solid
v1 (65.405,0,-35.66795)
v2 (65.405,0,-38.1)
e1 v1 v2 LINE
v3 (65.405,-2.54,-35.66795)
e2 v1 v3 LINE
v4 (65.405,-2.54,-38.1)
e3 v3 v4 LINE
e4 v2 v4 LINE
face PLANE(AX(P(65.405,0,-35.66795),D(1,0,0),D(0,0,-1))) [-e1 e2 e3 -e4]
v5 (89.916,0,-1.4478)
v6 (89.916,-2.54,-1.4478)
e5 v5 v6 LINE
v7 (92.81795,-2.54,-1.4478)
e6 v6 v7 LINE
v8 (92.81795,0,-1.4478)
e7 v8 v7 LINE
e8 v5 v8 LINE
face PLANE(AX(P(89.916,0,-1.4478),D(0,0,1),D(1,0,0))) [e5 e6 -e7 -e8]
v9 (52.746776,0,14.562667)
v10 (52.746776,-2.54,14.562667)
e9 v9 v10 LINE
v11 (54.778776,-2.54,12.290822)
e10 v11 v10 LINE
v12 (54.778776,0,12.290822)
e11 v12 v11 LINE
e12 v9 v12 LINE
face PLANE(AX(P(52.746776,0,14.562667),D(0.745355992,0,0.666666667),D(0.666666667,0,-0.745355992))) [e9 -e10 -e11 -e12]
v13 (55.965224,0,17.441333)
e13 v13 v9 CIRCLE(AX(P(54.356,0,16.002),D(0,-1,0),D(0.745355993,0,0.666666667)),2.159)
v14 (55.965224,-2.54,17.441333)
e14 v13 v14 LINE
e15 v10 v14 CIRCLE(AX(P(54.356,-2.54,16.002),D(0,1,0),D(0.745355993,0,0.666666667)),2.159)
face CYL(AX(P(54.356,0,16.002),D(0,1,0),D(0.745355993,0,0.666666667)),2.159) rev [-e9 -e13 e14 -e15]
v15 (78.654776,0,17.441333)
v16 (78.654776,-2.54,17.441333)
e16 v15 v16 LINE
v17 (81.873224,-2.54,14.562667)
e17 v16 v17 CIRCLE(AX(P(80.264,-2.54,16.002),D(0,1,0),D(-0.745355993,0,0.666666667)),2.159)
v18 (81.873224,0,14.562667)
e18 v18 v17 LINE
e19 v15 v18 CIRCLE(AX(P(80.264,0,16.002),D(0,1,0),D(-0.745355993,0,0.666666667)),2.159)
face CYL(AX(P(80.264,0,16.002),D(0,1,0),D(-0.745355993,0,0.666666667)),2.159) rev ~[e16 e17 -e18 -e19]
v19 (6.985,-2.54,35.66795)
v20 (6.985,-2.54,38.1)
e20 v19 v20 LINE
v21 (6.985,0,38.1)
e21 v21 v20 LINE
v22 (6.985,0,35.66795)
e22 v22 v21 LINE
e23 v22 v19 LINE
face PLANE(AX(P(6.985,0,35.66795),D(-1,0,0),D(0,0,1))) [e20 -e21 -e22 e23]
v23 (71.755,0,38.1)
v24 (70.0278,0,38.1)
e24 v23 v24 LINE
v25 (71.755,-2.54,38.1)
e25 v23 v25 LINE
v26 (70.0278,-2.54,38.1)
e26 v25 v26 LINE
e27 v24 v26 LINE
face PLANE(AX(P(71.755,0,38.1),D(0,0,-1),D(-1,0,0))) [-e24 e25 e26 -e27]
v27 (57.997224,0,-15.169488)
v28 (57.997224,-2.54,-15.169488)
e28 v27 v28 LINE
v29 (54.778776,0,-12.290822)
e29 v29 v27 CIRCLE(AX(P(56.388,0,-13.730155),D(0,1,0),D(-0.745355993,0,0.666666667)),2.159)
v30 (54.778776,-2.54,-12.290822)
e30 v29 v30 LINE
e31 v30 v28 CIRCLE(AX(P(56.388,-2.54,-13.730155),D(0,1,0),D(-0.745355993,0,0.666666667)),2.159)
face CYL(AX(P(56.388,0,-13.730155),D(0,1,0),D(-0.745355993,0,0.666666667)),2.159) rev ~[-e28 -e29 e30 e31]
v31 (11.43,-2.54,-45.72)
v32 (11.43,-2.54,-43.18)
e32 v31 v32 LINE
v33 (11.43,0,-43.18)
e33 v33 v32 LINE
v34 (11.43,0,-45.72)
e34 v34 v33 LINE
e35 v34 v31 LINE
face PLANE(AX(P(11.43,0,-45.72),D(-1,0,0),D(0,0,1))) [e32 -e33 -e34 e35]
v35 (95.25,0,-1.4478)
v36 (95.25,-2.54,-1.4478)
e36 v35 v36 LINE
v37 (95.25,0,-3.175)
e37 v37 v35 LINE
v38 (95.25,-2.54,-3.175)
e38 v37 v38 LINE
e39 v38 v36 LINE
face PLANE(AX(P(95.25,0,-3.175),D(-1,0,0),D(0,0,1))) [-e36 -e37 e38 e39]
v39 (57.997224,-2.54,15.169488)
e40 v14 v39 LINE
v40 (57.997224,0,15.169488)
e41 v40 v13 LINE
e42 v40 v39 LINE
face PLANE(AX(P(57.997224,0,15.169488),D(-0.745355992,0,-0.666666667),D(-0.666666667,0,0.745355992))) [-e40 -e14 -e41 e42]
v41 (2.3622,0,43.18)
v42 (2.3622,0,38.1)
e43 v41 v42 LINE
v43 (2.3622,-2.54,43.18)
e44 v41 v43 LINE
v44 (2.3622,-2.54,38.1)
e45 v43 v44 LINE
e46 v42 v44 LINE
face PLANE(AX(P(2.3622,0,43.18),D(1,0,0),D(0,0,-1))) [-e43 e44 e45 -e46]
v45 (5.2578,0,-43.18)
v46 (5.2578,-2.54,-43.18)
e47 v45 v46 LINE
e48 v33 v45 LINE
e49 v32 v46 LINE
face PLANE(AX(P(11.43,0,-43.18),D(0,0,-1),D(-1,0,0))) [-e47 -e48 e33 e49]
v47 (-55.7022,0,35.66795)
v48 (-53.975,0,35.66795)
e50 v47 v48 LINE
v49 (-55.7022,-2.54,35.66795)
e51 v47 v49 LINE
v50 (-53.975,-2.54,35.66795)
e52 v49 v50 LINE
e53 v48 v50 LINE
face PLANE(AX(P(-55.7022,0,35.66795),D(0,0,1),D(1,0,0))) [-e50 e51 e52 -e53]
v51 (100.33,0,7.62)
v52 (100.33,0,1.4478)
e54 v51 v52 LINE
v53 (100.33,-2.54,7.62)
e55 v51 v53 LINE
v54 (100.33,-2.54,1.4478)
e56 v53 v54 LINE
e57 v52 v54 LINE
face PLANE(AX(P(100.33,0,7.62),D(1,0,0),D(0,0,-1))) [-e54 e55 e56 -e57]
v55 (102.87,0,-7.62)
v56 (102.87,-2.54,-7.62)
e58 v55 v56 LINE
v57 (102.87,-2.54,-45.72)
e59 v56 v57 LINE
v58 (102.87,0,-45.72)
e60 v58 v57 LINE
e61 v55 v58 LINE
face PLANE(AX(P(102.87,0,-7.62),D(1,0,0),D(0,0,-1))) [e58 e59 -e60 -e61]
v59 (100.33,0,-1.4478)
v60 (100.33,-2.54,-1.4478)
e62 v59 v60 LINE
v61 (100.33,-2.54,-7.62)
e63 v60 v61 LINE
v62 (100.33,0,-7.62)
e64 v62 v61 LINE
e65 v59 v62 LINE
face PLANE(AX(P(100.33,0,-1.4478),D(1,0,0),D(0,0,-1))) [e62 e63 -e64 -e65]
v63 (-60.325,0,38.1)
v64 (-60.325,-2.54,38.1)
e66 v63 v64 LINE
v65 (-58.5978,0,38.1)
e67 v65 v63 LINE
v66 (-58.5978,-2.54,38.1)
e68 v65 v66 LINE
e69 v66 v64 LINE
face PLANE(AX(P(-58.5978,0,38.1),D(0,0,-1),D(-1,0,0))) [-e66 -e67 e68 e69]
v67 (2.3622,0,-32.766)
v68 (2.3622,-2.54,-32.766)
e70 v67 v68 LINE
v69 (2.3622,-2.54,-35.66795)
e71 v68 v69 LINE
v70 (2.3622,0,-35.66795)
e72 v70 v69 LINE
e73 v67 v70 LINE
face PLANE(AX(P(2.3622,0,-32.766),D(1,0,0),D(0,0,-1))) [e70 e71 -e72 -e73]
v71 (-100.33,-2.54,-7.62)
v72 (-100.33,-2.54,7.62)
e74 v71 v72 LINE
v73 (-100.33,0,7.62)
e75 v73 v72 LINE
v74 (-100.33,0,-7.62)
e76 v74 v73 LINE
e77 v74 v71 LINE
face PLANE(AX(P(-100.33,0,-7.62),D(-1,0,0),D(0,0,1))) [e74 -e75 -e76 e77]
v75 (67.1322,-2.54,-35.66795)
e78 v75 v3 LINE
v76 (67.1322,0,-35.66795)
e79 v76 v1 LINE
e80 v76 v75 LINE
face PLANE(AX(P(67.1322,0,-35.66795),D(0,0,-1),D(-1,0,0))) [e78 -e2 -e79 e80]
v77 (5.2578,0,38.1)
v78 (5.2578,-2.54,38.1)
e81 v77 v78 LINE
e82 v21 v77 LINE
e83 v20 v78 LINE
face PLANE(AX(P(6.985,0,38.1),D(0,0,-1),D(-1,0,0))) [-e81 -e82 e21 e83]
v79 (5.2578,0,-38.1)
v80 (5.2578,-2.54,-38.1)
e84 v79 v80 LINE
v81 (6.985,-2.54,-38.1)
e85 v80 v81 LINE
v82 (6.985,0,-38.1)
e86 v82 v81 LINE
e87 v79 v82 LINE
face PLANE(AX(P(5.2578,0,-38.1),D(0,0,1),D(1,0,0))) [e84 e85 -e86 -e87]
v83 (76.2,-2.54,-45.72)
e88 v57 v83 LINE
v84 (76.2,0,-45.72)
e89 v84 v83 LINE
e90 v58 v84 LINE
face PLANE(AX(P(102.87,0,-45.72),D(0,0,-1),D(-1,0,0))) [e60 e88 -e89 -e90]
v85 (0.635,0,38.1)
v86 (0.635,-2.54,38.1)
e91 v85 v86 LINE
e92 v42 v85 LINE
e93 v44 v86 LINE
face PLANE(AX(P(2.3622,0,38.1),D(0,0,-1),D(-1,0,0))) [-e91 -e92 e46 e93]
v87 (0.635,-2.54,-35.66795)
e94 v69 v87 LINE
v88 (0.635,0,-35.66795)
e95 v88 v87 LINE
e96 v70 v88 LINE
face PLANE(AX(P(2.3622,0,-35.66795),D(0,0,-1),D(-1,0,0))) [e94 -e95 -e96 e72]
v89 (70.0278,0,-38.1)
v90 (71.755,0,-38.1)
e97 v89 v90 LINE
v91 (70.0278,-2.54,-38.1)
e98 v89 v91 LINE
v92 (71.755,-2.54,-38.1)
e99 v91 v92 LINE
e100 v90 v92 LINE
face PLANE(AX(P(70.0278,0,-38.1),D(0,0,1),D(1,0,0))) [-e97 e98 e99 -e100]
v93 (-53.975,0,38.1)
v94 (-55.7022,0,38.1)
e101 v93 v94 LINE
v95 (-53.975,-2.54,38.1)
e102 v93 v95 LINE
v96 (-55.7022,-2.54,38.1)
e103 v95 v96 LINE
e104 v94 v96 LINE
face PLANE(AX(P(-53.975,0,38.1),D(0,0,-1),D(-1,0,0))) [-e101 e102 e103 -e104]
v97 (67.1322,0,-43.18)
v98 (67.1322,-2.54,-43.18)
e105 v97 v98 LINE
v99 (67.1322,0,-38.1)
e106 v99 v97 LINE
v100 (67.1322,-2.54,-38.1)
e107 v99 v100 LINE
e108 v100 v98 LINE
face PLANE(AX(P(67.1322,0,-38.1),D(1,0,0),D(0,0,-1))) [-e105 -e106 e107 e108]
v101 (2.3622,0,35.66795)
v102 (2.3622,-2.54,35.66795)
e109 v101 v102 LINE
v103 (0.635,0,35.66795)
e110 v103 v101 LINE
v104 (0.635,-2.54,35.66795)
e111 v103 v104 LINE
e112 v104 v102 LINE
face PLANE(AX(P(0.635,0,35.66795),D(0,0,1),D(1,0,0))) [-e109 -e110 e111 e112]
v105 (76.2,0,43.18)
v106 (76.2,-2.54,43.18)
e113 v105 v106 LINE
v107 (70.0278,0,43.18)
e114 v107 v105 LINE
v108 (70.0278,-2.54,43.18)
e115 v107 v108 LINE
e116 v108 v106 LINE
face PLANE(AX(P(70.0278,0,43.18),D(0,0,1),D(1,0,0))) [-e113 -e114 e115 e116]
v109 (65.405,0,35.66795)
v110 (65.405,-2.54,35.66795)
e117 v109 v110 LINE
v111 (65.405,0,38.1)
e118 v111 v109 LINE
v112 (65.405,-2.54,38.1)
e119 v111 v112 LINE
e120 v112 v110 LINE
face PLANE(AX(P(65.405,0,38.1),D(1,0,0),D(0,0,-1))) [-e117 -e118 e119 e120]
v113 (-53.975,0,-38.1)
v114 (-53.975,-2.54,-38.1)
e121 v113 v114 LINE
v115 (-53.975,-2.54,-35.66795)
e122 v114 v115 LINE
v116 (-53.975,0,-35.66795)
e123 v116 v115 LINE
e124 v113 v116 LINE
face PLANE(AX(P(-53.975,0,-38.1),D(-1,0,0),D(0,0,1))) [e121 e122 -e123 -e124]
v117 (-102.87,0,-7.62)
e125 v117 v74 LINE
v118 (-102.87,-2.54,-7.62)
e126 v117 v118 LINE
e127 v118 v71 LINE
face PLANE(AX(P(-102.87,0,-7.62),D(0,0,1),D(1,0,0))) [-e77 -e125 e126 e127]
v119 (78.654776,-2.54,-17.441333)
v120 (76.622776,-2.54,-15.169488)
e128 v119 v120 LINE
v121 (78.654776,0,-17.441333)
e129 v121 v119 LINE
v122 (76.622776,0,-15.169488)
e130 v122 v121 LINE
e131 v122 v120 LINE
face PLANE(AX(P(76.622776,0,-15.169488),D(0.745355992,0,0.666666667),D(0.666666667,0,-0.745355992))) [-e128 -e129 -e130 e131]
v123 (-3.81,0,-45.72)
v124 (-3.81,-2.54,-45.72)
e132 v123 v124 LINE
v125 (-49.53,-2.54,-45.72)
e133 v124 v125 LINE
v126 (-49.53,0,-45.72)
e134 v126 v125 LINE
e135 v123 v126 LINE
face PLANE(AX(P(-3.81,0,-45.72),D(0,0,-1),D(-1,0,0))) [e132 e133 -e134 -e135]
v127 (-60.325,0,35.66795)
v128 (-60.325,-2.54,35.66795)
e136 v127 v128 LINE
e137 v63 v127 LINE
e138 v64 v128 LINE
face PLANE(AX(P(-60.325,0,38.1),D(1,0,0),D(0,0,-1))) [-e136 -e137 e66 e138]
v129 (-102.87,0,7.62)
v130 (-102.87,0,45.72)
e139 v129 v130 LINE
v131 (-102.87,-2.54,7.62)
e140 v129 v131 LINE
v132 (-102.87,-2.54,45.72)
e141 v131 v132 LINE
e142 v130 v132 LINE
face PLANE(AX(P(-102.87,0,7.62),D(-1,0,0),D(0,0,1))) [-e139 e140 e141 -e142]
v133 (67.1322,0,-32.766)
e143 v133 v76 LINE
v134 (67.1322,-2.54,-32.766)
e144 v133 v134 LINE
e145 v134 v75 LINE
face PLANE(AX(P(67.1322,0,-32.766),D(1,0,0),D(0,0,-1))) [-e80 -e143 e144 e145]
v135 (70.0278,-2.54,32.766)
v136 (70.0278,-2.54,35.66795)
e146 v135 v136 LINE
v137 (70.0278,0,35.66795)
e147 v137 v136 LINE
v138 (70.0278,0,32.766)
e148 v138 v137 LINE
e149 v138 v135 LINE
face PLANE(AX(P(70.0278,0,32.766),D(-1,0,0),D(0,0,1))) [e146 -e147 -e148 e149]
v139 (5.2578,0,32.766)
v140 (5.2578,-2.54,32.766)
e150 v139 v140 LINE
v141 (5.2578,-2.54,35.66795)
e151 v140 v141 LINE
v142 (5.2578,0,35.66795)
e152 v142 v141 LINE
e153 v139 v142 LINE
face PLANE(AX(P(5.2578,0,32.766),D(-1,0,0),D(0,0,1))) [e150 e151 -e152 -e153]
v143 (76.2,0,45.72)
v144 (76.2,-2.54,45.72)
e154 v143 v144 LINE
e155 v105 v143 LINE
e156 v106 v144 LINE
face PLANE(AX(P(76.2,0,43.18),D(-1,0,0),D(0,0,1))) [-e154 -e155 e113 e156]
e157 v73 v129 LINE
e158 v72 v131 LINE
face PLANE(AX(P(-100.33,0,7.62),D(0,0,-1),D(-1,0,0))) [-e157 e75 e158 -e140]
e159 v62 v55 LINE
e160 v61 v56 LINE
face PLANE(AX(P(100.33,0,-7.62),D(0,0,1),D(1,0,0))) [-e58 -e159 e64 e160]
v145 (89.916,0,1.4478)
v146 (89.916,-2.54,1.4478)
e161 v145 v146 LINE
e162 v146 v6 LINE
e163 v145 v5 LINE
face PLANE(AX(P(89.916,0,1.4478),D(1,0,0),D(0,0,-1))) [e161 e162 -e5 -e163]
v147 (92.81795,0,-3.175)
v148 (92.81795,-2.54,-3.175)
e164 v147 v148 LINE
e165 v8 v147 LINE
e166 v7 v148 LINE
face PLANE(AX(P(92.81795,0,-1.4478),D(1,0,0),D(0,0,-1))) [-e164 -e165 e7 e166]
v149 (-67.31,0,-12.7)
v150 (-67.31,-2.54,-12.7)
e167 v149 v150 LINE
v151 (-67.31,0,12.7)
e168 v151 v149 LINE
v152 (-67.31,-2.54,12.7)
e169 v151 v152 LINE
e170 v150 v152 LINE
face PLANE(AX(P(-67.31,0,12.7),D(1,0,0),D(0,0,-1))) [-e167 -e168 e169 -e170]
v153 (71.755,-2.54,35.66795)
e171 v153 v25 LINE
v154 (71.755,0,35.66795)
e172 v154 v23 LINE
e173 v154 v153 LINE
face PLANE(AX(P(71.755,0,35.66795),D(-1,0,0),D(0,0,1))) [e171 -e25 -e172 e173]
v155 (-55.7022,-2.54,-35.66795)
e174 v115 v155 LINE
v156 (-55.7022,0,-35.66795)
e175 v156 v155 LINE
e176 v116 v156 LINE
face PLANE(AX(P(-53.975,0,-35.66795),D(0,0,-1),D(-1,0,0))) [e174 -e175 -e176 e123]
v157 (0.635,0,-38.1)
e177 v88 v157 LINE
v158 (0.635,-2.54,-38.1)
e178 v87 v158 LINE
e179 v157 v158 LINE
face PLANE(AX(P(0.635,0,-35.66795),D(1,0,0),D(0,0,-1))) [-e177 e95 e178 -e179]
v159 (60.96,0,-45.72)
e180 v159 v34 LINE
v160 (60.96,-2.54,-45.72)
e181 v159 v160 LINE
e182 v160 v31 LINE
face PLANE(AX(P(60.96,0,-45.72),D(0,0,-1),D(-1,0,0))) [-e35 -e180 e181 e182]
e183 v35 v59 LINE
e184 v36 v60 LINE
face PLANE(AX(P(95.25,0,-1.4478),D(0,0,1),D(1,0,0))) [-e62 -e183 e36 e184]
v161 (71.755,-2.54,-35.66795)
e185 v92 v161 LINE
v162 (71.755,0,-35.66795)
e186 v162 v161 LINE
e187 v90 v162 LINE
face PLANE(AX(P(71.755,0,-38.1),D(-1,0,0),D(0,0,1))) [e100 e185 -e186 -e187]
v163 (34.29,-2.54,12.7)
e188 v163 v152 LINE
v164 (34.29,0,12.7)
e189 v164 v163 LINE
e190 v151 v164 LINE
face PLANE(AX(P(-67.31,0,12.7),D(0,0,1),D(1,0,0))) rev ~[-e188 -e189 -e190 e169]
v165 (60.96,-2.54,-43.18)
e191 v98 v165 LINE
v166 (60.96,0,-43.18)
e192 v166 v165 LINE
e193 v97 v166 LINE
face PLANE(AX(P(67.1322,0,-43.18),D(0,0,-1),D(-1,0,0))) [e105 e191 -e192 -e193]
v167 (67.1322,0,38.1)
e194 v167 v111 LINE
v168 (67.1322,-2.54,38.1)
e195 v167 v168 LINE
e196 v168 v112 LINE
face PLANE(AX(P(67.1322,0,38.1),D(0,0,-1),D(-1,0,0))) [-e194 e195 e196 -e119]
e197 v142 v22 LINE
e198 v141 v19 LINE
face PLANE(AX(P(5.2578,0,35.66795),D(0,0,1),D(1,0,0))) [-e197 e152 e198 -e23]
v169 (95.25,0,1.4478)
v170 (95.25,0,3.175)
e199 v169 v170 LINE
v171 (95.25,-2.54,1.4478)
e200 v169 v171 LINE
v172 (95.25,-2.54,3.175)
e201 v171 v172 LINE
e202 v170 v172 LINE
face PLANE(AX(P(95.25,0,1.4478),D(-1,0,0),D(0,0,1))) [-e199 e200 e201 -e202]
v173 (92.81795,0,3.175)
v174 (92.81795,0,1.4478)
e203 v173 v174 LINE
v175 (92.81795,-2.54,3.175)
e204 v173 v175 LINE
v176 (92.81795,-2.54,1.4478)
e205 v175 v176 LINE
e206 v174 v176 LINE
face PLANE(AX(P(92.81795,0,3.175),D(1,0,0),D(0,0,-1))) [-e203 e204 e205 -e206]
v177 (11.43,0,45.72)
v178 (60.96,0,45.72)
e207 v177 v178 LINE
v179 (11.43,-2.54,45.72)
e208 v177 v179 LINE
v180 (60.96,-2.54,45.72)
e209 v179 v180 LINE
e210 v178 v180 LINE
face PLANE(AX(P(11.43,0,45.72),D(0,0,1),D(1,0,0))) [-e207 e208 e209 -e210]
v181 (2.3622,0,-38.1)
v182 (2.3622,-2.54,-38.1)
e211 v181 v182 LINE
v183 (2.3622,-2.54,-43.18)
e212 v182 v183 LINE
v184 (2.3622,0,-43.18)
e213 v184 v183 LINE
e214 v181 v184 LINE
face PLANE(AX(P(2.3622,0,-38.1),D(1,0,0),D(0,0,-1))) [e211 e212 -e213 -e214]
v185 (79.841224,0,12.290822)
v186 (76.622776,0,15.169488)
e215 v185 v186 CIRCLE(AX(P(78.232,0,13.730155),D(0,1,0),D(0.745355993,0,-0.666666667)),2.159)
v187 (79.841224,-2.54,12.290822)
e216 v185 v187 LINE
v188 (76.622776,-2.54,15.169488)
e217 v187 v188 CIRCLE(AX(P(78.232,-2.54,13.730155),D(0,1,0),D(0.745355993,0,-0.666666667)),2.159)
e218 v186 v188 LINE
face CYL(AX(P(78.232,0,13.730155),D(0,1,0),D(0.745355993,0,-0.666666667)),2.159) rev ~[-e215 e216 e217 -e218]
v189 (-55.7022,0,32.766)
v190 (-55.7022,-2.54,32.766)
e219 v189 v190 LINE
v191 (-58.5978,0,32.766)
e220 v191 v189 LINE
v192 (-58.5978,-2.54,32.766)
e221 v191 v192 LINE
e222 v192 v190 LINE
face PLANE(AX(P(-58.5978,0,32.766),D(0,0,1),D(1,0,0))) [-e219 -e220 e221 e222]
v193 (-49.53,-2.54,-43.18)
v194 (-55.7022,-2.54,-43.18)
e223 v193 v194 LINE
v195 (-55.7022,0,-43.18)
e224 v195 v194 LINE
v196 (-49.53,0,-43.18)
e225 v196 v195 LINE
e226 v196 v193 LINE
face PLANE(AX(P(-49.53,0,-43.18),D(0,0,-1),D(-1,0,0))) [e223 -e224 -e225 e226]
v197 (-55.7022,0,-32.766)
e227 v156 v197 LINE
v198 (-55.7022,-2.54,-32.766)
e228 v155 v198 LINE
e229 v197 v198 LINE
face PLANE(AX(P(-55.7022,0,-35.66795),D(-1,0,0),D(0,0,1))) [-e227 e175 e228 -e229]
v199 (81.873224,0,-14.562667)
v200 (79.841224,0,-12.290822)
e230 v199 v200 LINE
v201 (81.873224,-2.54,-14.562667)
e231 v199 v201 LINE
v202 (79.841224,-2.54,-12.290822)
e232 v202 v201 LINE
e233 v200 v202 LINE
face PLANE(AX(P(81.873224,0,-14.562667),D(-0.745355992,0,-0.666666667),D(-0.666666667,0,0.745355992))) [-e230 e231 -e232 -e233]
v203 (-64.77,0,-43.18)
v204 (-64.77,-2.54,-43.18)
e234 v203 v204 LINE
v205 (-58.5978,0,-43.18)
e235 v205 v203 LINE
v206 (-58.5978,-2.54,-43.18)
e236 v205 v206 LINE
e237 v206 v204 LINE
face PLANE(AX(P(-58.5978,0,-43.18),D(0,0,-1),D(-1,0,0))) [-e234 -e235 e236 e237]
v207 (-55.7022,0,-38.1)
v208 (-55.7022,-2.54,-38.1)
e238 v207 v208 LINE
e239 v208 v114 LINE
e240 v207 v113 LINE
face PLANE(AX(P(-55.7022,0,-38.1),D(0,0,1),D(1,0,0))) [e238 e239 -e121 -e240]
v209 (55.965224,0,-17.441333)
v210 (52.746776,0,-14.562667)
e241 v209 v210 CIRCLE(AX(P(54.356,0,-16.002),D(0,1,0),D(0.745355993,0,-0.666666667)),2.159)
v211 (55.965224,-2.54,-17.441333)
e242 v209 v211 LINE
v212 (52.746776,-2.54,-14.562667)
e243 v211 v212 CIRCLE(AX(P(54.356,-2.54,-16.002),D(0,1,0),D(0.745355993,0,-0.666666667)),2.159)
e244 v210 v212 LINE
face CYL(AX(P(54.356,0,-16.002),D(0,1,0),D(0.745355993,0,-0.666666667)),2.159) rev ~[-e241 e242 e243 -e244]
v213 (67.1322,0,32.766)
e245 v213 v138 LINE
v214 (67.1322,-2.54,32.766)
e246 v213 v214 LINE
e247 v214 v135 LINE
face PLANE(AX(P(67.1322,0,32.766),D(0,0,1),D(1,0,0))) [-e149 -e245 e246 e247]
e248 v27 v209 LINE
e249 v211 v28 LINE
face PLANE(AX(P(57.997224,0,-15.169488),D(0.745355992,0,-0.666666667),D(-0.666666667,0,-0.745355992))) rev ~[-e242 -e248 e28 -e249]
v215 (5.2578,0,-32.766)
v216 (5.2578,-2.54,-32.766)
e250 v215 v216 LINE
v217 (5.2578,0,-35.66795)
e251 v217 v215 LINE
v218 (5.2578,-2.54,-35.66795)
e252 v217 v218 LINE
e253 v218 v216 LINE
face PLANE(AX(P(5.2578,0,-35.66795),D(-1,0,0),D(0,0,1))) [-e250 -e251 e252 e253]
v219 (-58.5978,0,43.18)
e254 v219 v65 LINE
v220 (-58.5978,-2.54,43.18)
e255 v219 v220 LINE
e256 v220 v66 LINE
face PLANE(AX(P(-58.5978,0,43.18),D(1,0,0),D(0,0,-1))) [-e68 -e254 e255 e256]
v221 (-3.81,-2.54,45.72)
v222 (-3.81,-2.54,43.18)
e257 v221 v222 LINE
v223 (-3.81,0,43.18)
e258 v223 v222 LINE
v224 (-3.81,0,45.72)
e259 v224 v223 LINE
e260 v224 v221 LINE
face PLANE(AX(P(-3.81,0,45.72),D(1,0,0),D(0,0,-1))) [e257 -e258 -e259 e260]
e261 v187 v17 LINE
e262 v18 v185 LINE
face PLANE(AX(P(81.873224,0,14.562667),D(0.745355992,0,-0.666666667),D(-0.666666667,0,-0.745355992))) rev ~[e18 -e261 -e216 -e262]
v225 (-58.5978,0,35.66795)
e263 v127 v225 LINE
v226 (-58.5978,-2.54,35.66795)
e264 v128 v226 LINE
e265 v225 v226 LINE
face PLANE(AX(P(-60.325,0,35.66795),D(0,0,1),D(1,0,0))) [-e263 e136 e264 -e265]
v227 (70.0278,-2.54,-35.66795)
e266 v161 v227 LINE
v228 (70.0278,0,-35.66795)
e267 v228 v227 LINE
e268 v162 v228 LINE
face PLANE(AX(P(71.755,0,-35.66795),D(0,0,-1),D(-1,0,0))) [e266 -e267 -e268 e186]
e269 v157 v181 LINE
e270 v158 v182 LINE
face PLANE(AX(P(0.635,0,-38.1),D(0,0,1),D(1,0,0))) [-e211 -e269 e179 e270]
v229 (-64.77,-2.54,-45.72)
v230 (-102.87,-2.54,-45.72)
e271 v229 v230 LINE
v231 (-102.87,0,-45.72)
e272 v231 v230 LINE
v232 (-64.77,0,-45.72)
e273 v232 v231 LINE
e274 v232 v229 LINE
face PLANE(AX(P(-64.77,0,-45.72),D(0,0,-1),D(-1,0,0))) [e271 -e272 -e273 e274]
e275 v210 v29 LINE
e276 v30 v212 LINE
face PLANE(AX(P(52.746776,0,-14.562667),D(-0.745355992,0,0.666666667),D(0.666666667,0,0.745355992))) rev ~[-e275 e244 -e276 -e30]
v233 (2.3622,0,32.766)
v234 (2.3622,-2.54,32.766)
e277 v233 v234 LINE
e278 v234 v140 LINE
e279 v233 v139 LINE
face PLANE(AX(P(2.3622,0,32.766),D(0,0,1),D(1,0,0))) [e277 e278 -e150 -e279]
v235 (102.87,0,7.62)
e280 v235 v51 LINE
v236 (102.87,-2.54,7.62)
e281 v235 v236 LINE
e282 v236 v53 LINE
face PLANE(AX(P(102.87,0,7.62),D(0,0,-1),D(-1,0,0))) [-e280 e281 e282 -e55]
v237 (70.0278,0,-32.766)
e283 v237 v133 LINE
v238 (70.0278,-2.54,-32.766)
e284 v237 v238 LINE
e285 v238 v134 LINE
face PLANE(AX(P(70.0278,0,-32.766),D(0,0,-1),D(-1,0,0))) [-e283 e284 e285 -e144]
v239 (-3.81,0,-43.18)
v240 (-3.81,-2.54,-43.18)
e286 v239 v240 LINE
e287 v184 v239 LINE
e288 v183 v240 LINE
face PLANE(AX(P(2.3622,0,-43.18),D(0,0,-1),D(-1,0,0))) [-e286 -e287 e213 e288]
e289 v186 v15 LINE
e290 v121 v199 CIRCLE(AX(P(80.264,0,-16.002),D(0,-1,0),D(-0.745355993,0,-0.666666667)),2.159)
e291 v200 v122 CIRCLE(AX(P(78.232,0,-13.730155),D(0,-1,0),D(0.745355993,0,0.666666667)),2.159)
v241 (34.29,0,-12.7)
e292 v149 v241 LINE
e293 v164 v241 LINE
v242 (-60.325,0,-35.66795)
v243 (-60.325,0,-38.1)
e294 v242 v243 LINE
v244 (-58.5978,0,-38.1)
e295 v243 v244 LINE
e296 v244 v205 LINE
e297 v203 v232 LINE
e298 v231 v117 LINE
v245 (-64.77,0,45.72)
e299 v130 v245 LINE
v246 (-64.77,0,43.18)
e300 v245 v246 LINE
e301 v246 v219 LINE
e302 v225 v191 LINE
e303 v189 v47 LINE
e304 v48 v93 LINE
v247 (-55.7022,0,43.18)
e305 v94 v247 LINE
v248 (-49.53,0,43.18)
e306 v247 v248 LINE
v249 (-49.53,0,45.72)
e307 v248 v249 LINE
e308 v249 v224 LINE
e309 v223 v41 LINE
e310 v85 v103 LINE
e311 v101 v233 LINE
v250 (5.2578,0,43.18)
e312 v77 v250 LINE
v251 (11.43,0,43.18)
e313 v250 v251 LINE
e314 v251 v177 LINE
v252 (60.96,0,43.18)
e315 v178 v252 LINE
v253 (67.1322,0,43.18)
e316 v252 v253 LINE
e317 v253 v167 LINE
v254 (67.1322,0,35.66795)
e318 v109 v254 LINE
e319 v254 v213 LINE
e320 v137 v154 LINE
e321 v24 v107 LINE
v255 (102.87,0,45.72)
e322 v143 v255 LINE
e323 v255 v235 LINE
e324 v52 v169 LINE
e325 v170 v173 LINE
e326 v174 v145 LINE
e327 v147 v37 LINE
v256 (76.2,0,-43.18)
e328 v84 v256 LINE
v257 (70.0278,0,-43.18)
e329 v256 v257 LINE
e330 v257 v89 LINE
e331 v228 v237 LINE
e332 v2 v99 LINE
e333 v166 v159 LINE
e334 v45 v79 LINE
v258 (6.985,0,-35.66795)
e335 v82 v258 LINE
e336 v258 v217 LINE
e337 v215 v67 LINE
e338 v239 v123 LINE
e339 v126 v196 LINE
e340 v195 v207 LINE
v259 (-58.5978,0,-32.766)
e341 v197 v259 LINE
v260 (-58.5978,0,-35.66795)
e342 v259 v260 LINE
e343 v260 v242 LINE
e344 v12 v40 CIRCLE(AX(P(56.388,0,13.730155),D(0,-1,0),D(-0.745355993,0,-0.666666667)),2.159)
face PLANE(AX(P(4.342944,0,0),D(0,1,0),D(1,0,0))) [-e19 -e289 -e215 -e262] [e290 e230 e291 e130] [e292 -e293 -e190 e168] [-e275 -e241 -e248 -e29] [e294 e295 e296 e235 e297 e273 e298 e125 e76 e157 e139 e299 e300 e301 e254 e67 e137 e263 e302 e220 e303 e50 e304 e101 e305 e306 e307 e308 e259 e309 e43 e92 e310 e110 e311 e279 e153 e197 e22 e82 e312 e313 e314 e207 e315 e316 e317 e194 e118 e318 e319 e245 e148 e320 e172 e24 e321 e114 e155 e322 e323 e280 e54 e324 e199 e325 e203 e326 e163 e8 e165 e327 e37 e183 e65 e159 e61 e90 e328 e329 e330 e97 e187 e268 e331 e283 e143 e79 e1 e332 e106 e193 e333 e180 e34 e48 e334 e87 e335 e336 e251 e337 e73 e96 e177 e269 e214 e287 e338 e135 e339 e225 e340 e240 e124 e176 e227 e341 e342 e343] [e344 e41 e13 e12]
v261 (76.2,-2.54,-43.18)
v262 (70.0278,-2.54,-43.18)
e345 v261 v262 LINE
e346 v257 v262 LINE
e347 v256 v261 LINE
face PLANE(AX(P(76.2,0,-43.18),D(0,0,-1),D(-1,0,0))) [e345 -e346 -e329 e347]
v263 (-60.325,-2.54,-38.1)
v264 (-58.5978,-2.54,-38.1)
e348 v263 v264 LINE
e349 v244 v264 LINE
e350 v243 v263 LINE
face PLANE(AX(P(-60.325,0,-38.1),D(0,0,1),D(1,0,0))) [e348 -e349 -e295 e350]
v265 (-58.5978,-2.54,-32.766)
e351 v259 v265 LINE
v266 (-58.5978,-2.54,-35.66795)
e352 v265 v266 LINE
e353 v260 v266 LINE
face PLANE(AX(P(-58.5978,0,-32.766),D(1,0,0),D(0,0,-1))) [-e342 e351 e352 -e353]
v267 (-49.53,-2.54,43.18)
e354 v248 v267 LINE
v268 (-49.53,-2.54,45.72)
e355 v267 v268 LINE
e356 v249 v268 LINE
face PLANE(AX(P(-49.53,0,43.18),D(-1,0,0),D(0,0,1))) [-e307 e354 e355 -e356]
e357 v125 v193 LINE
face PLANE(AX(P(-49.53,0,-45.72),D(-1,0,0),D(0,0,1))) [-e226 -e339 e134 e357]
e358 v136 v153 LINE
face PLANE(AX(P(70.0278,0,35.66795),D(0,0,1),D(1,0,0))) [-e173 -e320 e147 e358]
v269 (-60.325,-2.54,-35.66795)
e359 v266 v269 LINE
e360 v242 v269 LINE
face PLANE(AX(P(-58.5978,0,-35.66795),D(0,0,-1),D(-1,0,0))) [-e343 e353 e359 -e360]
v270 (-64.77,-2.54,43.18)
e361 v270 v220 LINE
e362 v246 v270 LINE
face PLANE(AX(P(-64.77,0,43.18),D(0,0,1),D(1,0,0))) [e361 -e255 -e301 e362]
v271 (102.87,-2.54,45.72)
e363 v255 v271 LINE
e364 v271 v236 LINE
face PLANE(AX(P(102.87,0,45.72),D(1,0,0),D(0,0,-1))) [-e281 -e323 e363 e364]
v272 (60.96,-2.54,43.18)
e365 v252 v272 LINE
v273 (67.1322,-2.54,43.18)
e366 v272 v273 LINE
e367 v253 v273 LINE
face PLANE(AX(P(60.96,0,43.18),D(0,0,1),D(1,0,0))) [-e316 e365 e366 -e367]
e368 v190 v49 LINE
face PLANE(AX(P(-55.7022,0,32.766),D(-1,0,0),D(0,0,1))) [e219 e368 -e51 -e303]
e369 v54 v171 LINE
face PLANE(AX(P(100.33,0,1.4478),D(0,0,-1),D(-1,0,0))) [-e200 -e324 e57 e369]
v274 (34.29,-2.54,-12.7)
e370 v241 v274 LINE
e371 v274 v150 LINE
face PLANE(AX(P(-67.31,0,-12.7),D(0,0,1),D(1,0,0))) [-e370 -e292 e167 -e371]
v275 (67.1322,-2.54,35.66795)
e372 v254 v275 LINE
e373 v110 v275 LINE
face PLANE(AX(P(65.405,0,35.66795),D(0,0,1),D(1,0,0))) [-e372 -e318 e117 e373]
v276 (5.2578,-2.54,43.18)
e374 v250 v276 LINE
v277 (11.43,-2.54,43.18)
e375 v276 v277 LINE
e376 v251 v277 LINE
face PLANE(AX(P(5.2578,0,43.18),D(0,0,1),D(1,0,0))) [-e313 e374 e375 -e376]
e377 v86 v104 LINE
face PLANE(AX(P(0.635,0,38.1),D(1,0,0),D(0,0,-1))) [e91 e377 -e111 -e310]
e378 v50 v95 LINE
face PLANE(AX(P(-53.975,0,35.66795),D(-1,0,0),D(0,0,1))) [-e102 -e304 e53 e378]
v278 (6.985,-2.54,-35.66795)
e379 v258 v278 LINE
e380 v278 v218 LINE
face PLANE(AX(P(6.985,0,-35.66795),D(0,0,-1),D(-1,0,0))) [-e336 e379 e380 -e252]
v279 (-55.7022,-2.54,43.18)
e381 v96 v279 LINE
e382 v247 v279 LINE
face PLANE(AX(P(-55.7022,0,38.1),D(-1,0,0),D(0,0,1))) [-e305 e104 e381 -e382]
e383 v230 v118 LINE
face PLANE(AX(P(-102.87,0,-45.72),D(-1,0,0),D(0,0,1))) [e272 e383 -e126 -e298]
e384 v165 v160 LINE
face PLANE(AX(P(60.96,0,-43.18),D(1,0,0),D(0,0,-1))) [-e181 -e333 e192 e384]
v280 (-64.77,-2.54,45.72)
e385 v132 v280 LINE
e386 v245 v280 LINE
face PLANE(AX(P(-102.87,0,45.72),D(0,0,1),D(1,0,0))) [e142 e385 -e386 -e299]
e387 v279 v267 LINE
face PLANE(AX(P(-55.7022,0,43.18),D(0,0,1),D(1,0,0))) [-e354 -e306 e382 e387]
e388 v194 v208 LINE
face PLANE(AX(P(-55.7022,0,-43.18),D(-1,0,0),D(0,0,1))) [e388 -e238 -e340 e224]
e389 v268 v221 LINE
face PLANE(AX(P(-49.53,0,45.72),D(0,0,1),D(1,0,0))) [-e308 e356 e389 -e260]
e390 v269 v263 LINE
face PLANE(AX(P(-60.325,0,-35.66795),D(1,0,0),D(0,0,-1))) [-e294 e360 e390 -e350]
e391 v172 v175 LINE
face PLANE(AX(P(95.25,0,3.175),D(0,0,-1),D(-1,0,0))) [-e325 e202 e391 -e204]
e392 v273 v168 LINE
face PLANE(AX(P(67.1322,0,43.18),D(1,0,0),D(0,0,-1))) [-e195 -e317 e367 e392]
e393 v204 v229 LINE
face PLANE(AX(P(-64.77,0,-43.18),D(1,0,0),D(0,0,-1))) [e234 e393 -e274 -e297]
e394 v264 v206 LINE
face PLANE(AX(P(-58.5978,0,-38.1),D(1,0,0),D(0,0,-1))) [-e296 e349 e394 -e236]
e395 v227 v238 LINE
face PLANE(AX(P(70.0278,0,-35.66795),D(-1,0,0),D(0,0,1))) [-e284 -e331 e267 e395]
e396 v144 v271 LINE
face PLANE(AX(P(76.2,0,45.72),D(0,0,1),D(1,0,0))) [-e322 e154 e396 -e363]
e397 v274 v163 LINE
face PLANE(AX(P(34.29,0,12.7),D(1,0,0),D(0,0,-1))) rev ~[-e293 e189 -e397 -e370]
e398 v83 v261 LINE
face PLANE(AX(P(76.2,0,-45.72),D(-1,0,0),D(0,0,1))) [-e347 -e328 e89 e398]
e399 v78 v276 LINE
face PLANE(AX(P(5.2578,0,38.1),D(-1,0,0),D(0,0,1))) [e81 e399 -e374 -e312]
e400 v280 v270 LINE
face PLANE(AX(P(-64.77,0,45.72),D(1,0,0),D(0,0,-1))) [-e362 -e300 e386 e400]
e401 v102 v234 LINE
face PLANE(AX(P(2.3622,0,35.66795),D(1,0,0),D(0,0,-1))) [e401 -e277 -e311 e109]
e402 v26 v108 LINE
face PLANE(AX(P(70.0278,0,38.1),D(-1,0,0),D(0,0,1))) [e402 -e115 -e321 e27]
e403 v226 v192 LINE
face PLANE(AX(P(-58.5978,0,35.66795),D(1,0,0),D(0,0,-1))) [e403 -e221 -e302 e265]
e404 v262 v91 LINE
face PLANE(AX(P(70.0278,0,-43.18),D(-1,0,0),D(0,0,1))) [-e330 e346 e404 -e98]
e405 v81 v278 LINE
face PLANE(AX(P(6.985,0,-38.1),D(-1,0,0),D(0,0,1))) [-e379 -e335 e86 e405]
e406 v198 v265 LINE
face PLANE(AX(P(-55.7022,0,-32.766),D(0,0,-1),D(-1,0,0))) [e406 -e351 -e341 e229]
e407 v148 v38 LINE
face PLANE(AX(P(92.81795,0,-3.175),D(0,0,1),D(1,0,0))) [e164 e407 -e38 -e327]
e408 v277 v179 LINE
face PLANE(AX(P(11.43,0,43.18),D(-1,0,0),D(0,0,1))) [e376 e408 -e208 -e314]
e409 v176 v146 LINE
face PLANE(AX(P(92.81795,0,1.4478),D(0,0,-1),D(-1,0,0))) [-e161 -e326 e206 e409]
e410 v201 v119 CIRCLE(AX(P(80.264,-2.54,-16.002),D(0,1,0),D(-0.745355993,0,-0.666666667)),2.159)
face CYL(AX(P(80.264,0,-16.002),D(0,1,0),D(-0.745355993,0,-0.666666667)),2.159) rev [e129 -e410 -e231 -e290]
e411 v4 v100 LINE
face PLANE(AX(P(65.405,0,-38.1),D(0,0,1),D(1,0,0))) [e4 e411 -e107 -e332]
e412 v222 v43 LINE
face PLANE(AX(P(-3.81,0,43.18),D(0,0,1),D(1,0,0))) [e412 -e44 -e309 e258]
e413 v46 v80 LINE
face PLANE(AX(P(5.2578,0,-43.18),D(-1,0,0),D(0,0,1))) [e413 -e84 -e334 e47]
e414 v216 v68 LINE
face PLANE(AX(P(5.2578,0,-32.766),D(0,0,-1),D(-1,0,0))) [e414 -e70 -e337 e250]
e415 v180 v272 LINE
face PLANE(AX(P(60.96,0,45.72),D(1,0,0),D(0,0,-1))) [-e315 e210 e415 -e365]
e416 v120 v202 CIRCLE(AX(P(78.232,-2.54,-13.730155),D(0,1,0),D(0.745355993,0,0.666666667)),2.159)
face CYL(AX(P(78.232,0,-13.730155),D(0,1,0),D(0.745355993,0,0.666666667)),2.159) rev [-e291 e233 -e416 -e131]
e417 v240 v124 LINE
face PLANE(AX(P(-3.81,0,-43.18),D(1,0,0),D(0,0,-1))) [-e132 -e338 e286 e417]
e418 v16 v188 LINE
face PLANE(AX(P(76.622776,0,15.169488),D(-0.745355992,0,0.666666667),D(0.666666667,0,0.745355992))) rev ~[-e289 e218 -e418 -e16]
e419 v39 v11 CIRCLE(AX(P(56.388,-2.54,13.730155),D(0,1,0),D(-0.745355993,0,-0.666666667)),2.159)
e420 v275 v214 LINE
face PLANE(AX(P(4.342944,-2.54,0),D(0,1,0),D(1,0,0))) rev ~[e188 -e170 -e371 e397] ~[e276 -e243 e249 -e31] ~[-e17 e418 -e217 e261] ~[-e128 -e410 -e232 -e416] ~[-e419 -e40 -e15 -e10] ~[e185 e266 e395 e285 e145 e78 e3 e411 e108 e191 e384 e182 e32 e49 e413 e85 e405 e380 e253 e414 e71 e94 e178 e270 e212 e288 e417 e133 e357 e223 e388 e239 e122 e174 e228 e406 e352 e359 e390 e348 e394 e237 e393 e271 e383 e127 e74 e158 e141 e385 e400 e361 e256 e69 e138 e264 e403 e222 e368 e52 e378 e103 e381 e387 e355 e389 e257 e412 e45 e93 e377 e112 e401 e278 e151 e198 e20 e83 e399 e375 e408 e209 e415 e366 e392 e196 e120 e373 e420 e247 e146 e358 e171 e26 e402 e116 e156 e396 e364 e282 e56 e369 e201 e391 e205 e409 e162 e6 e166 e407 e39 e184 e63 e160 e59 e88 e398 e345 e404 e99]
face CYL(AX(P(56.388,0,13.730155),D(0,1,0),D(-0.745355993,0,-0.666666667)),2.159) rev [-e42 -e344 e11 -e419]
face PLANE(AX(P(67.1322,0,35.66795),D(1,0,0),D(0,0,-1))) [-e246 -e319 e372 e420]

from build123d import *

# Parameters (mm, degrees)
BOSS_EXTRUDE1_DEPTH = 2.54
CUT_EXTRUDE1_REACH  = 4.54
CUT_EXTRUDE2_REACH  = 4.54
SKETCH4_W           = 101.6
SKETCH4_H           = 25.4


with BuildPart() as part:
    # Sketch2 → Boss-Extrude1 (new body)
    with BuildSketch(Plane(origin=(0, 0, 0), x_dir=(1, 0, 0), z_dir=(0, 1, 0))):
        Polygon((-102.87, -45.72), (-64.77, -45.72), (-64.77, -43.18), (-58.5978, -43.18), (-58.5978, -38.1), (-60.325, -38.1), (-60.325, -35.66795), (-58.5978, -35.66795), (-58.5978, -32.766), (-55.7022, -32.766), (-55.7022, -35.66795), (-53.975, -35.66795), (-53.975, -38.1), (-55.7022, -38.1), (-55.7022, -43.18), (-49.53, -43.18), (-49.53, -45.72), (-3.81, -45.72), (-3.81, -43.18), (2.3622, -43.18), (2.3622, -38.1), (0.635, -38.1), (0.635, -35.66795), (2.3622, -35.66795), (2.3622, -32.766), (5.2578, -32.766), (5.2578, -35.66795), (6.985, -35.66795), (6.985, -38.1), (5.2578, -38.1), (5.2578, -43.18), (11.43, -43.18), (11.43, -45.72), (60.96, -45.72), (60.96, -43.18), (67.1322, -43.18), (67.1322, -38.1), (65.405, -38.1), (65.405, -35.66795), (67.1322, -35.66795), (67.1322, -32.766), (70.0278, -32.766), (70.0278, -35.66795), (71.755, -35.66795), (71.755, -38.1), (70.0278, -38.1), (70.0278, -43.18), (76.2, -43.18), (76.2, -45.72), (102.87, -45.72), (102.87, -7.62), (100.33, -7.62), (100.33, -1.4478), (95.25, -1.4478), (95.25, -3.175), (92.81795, -3.175), (92.81795, -1.4478), (89.916, -1.4478), (89.916, 1.4478), (92.81795, 1.4478), (92.81795, 3.175), (95.25, 3.175), (95.25, 1.4478), (100.33, 1.4478), (100.33, 7.62), (102.87, 7.62), (102.87, 45.72), (76.2, 45.72), (76.2, 43.18), (70.0278, 43.18), (70.0278, 38.1), (71.755, 38.1), (71.755, 35.66795), (70.0278, 35.66795), (70.0278, 32.766), (67.1322, 32.766), (67.1322, 35.66795), (65.405, 35.66795), (65.405, 38.1), (67.1322, 38.1), (67.1322, 43.18), (60.96, 43.18), (60.96, 45.72), (11.43, 45.72), (11.43, 43.18), (5.2578, 43.18), (5.2578, 38.1), (6.985, 38.1), (6.985, 35.66795), (5.2578, 35.66795), (5.2578, 32.766), (2.3622, 32.766), (2.3622, 35.66795), (0.635, 35.66795), (0.635, 38.1), (2.3622, 38.1), (2.3622, 43.18), (-3.81, 43.18), (-3.81, 45.72), (-49.53, 45.72), (-49.53, 43.18), (-55.7022, 43.18), (-55.7022, 38.1), (-53.975, 38.1), (-53.975, 35.66795), (-55.7022, 35.66795), (-55.7022, 32.766), (-58.5978, 32.766), (-58.5978, 35.66795), (-60.325, 35.66795), (-60.325, 38.1), (-58.5978, 38.1), (-58.5978, 43.18), (-64.77, 43.18), (-64.77, 45.72), (-102.87, 45.72), (-102.87, 7.62), (-100.33, 7.62), (-100.33, -7.62), (-102.87, -7.62), align=None)
    extrude(amount=-BOSS_EXTRUDE1_DEPTH)

    # Sketch3 → Cut-Extrude1 (cut, up to next)
    with BuildSketch(Plane(origin=(0, 0, 0), x_dir=(1, 0, 0), z_dir=(0, 1, 0)), mode=Mode.PRIVATE) as cut_extrude1_sk1:
        with BuildLine():
            Line((81.873223588, 14.562666667), (79.841223588, 12.290821602))
            ThreePointArc((79.841223588, 12.290821602), (76.792666667, 12.120931347), (76.622776412, 15.169488268))
            Line((76.622776412, 15.169488268), (78.654776412, 17.441333333))
            ThreePointArc((78.654776412, 17.441333333), (81.703333333, 17.611223588), (81.873223588, 14.562666667))
        make_face()
    cut_extrude1_tool1 = extrude(cut_extrude1_sk1.sketch, amount=-CUT_EXTRUDE1_REACH, mode=Mode.PRIVATE) & part.part
    add(cut_extrude1_tool1.solids().sort_by_distance((79.248, 0, -14.866077))[0], mode=Mode.SUBTRACT)
    # Sketch3 → Cut-Extrude1 (cut, up to next)
    with BuildSketch(Plane(origin=(0, 0, 0), x_dir=(1, 0, 0), z_dir=(0, 1, 0)), mode=Mode.PRIVATE) as cut_extrude1_sk2:
        with BuildLine():
            Line((52.746776412, 14.562666667), (54.778776412, 12.290821602))
            ThreePointArc((54.778776412, 12.290821602), (57.827333333, 12.120931347), (57.997223588, 15.169488268))
            Line((57.997223588, 15.169488268), (55.965223588, 17.441333333))
            ThreePointArc((55.965223588, 17.441333333), (52.916666667, 17.611223588), (52.746776412, 14.562666667))
        make_face()
    cut_extrude1_tool2 = extrude(cut_extrude1_sk2.sketch, amount=-CUT_EXTRUDE1_REACH, mode=Mode.PRIVATE) & part.part
    add(cut_extrude1_tool2.solids().sort_by_distance((55.372, 0, -14.866077))[0], mode=Mode.SUBTRACT)
    # Sketch3 → Cut-Extrude1 (cut, up to next)
    with BuildSketch(Plane(origin=(0, 0, 0), x_dir=(1, 0, 0), z_dir=(0, 1, 0)), mode=Mode.PRIVATE) as cut_extrude1_sk3:
        with BuildLine():
            Line((81.873223588, -14.562666667), (79.841223588, -12.290821602))
            ThreePointArc((79.841223588, -12.290821602), (76.792666667, -12.120931347), (76.622776412, -15.169488268))
            Line((76.622776412, -15.169488268), (78.654776412, -17.441333333))
            ThreePointArc((78.654776412, -17.441333333), (81.703333333, -17.611223588), (81.873223588, -14.562666667))
        make_face()
    cut_extrude1_tool3 = extrude(cut_extrude1_sk3.sketch, amount=-CUT_EXTRUDE1_REACH, mode=Mode.PRIVATE) & part.part
    add(cut_extrude1_tool3.solids().sort_by_distance((79.248, 0, 14.866077))[0], mode=Mode.SUBTRACT)
    # Sketch3 → Cut-Extrude1 (cut, up to next)
    with BuildSketch(Plane(origin=(0, 0, 0), x_dir=(1, 0, 0), z_dir=(0, 1, 0)), mode=Mode.PRIVATE) as cut_extrude1_sk4:
        with BuildLine():
            Line((52.746776412, -14.562666667), (54.778776412, -12.290821602))
            ThreePointArc((54.778776412, -12.290821602), (57.827333333, -12.120931347), (57.997223588, -15.169488268))
            Line((57.997223588, -15.169488268), (55.965223588, -17.441333333))
            ThreePointArc((55.965223588, -17.441333333), (52.916666667, -17.611223588), (52.746776412, -14.562666667))
        make_face()
    cut_extrude1_tool4 = extrude(cut_extrude1_sk4.sketch, amount=-CUT_EXTRUDE1_REACH, mode=Mode.PRIVATE) & part.part
    add(cut_extrude1_tool4.solids().sort_by_distance((55.372, 0, 14.866077))[0], mode=Mode.SUBTRACT)

    # Sketch4 → Cut-Extrude2 (cut, up to next)
    with BuildSketch(Plane(origin=(0, 0, 0), x_dir=(1, 0, 0), z_dir=(0, 1, 0)), mode=Mode.PRIVATE) as cut_extrude2_sk1:
        with Locations((-16.51, 0)):
            Rectangle(SKETCH4_W, SKETCH4_H)
    cut_extrude2_tool1 = extrude(cut_extrude2_sk1.sketch, amount=-CUT_EXTRUDE2_REACH, mode=Mode.PRIVATE) & part.part
    add(cut_extrude2_tool1.solids().sort_by_distance((-16.51, 0, 0))[0], mode=Mode.SUBTRACT)


solid = part.part
